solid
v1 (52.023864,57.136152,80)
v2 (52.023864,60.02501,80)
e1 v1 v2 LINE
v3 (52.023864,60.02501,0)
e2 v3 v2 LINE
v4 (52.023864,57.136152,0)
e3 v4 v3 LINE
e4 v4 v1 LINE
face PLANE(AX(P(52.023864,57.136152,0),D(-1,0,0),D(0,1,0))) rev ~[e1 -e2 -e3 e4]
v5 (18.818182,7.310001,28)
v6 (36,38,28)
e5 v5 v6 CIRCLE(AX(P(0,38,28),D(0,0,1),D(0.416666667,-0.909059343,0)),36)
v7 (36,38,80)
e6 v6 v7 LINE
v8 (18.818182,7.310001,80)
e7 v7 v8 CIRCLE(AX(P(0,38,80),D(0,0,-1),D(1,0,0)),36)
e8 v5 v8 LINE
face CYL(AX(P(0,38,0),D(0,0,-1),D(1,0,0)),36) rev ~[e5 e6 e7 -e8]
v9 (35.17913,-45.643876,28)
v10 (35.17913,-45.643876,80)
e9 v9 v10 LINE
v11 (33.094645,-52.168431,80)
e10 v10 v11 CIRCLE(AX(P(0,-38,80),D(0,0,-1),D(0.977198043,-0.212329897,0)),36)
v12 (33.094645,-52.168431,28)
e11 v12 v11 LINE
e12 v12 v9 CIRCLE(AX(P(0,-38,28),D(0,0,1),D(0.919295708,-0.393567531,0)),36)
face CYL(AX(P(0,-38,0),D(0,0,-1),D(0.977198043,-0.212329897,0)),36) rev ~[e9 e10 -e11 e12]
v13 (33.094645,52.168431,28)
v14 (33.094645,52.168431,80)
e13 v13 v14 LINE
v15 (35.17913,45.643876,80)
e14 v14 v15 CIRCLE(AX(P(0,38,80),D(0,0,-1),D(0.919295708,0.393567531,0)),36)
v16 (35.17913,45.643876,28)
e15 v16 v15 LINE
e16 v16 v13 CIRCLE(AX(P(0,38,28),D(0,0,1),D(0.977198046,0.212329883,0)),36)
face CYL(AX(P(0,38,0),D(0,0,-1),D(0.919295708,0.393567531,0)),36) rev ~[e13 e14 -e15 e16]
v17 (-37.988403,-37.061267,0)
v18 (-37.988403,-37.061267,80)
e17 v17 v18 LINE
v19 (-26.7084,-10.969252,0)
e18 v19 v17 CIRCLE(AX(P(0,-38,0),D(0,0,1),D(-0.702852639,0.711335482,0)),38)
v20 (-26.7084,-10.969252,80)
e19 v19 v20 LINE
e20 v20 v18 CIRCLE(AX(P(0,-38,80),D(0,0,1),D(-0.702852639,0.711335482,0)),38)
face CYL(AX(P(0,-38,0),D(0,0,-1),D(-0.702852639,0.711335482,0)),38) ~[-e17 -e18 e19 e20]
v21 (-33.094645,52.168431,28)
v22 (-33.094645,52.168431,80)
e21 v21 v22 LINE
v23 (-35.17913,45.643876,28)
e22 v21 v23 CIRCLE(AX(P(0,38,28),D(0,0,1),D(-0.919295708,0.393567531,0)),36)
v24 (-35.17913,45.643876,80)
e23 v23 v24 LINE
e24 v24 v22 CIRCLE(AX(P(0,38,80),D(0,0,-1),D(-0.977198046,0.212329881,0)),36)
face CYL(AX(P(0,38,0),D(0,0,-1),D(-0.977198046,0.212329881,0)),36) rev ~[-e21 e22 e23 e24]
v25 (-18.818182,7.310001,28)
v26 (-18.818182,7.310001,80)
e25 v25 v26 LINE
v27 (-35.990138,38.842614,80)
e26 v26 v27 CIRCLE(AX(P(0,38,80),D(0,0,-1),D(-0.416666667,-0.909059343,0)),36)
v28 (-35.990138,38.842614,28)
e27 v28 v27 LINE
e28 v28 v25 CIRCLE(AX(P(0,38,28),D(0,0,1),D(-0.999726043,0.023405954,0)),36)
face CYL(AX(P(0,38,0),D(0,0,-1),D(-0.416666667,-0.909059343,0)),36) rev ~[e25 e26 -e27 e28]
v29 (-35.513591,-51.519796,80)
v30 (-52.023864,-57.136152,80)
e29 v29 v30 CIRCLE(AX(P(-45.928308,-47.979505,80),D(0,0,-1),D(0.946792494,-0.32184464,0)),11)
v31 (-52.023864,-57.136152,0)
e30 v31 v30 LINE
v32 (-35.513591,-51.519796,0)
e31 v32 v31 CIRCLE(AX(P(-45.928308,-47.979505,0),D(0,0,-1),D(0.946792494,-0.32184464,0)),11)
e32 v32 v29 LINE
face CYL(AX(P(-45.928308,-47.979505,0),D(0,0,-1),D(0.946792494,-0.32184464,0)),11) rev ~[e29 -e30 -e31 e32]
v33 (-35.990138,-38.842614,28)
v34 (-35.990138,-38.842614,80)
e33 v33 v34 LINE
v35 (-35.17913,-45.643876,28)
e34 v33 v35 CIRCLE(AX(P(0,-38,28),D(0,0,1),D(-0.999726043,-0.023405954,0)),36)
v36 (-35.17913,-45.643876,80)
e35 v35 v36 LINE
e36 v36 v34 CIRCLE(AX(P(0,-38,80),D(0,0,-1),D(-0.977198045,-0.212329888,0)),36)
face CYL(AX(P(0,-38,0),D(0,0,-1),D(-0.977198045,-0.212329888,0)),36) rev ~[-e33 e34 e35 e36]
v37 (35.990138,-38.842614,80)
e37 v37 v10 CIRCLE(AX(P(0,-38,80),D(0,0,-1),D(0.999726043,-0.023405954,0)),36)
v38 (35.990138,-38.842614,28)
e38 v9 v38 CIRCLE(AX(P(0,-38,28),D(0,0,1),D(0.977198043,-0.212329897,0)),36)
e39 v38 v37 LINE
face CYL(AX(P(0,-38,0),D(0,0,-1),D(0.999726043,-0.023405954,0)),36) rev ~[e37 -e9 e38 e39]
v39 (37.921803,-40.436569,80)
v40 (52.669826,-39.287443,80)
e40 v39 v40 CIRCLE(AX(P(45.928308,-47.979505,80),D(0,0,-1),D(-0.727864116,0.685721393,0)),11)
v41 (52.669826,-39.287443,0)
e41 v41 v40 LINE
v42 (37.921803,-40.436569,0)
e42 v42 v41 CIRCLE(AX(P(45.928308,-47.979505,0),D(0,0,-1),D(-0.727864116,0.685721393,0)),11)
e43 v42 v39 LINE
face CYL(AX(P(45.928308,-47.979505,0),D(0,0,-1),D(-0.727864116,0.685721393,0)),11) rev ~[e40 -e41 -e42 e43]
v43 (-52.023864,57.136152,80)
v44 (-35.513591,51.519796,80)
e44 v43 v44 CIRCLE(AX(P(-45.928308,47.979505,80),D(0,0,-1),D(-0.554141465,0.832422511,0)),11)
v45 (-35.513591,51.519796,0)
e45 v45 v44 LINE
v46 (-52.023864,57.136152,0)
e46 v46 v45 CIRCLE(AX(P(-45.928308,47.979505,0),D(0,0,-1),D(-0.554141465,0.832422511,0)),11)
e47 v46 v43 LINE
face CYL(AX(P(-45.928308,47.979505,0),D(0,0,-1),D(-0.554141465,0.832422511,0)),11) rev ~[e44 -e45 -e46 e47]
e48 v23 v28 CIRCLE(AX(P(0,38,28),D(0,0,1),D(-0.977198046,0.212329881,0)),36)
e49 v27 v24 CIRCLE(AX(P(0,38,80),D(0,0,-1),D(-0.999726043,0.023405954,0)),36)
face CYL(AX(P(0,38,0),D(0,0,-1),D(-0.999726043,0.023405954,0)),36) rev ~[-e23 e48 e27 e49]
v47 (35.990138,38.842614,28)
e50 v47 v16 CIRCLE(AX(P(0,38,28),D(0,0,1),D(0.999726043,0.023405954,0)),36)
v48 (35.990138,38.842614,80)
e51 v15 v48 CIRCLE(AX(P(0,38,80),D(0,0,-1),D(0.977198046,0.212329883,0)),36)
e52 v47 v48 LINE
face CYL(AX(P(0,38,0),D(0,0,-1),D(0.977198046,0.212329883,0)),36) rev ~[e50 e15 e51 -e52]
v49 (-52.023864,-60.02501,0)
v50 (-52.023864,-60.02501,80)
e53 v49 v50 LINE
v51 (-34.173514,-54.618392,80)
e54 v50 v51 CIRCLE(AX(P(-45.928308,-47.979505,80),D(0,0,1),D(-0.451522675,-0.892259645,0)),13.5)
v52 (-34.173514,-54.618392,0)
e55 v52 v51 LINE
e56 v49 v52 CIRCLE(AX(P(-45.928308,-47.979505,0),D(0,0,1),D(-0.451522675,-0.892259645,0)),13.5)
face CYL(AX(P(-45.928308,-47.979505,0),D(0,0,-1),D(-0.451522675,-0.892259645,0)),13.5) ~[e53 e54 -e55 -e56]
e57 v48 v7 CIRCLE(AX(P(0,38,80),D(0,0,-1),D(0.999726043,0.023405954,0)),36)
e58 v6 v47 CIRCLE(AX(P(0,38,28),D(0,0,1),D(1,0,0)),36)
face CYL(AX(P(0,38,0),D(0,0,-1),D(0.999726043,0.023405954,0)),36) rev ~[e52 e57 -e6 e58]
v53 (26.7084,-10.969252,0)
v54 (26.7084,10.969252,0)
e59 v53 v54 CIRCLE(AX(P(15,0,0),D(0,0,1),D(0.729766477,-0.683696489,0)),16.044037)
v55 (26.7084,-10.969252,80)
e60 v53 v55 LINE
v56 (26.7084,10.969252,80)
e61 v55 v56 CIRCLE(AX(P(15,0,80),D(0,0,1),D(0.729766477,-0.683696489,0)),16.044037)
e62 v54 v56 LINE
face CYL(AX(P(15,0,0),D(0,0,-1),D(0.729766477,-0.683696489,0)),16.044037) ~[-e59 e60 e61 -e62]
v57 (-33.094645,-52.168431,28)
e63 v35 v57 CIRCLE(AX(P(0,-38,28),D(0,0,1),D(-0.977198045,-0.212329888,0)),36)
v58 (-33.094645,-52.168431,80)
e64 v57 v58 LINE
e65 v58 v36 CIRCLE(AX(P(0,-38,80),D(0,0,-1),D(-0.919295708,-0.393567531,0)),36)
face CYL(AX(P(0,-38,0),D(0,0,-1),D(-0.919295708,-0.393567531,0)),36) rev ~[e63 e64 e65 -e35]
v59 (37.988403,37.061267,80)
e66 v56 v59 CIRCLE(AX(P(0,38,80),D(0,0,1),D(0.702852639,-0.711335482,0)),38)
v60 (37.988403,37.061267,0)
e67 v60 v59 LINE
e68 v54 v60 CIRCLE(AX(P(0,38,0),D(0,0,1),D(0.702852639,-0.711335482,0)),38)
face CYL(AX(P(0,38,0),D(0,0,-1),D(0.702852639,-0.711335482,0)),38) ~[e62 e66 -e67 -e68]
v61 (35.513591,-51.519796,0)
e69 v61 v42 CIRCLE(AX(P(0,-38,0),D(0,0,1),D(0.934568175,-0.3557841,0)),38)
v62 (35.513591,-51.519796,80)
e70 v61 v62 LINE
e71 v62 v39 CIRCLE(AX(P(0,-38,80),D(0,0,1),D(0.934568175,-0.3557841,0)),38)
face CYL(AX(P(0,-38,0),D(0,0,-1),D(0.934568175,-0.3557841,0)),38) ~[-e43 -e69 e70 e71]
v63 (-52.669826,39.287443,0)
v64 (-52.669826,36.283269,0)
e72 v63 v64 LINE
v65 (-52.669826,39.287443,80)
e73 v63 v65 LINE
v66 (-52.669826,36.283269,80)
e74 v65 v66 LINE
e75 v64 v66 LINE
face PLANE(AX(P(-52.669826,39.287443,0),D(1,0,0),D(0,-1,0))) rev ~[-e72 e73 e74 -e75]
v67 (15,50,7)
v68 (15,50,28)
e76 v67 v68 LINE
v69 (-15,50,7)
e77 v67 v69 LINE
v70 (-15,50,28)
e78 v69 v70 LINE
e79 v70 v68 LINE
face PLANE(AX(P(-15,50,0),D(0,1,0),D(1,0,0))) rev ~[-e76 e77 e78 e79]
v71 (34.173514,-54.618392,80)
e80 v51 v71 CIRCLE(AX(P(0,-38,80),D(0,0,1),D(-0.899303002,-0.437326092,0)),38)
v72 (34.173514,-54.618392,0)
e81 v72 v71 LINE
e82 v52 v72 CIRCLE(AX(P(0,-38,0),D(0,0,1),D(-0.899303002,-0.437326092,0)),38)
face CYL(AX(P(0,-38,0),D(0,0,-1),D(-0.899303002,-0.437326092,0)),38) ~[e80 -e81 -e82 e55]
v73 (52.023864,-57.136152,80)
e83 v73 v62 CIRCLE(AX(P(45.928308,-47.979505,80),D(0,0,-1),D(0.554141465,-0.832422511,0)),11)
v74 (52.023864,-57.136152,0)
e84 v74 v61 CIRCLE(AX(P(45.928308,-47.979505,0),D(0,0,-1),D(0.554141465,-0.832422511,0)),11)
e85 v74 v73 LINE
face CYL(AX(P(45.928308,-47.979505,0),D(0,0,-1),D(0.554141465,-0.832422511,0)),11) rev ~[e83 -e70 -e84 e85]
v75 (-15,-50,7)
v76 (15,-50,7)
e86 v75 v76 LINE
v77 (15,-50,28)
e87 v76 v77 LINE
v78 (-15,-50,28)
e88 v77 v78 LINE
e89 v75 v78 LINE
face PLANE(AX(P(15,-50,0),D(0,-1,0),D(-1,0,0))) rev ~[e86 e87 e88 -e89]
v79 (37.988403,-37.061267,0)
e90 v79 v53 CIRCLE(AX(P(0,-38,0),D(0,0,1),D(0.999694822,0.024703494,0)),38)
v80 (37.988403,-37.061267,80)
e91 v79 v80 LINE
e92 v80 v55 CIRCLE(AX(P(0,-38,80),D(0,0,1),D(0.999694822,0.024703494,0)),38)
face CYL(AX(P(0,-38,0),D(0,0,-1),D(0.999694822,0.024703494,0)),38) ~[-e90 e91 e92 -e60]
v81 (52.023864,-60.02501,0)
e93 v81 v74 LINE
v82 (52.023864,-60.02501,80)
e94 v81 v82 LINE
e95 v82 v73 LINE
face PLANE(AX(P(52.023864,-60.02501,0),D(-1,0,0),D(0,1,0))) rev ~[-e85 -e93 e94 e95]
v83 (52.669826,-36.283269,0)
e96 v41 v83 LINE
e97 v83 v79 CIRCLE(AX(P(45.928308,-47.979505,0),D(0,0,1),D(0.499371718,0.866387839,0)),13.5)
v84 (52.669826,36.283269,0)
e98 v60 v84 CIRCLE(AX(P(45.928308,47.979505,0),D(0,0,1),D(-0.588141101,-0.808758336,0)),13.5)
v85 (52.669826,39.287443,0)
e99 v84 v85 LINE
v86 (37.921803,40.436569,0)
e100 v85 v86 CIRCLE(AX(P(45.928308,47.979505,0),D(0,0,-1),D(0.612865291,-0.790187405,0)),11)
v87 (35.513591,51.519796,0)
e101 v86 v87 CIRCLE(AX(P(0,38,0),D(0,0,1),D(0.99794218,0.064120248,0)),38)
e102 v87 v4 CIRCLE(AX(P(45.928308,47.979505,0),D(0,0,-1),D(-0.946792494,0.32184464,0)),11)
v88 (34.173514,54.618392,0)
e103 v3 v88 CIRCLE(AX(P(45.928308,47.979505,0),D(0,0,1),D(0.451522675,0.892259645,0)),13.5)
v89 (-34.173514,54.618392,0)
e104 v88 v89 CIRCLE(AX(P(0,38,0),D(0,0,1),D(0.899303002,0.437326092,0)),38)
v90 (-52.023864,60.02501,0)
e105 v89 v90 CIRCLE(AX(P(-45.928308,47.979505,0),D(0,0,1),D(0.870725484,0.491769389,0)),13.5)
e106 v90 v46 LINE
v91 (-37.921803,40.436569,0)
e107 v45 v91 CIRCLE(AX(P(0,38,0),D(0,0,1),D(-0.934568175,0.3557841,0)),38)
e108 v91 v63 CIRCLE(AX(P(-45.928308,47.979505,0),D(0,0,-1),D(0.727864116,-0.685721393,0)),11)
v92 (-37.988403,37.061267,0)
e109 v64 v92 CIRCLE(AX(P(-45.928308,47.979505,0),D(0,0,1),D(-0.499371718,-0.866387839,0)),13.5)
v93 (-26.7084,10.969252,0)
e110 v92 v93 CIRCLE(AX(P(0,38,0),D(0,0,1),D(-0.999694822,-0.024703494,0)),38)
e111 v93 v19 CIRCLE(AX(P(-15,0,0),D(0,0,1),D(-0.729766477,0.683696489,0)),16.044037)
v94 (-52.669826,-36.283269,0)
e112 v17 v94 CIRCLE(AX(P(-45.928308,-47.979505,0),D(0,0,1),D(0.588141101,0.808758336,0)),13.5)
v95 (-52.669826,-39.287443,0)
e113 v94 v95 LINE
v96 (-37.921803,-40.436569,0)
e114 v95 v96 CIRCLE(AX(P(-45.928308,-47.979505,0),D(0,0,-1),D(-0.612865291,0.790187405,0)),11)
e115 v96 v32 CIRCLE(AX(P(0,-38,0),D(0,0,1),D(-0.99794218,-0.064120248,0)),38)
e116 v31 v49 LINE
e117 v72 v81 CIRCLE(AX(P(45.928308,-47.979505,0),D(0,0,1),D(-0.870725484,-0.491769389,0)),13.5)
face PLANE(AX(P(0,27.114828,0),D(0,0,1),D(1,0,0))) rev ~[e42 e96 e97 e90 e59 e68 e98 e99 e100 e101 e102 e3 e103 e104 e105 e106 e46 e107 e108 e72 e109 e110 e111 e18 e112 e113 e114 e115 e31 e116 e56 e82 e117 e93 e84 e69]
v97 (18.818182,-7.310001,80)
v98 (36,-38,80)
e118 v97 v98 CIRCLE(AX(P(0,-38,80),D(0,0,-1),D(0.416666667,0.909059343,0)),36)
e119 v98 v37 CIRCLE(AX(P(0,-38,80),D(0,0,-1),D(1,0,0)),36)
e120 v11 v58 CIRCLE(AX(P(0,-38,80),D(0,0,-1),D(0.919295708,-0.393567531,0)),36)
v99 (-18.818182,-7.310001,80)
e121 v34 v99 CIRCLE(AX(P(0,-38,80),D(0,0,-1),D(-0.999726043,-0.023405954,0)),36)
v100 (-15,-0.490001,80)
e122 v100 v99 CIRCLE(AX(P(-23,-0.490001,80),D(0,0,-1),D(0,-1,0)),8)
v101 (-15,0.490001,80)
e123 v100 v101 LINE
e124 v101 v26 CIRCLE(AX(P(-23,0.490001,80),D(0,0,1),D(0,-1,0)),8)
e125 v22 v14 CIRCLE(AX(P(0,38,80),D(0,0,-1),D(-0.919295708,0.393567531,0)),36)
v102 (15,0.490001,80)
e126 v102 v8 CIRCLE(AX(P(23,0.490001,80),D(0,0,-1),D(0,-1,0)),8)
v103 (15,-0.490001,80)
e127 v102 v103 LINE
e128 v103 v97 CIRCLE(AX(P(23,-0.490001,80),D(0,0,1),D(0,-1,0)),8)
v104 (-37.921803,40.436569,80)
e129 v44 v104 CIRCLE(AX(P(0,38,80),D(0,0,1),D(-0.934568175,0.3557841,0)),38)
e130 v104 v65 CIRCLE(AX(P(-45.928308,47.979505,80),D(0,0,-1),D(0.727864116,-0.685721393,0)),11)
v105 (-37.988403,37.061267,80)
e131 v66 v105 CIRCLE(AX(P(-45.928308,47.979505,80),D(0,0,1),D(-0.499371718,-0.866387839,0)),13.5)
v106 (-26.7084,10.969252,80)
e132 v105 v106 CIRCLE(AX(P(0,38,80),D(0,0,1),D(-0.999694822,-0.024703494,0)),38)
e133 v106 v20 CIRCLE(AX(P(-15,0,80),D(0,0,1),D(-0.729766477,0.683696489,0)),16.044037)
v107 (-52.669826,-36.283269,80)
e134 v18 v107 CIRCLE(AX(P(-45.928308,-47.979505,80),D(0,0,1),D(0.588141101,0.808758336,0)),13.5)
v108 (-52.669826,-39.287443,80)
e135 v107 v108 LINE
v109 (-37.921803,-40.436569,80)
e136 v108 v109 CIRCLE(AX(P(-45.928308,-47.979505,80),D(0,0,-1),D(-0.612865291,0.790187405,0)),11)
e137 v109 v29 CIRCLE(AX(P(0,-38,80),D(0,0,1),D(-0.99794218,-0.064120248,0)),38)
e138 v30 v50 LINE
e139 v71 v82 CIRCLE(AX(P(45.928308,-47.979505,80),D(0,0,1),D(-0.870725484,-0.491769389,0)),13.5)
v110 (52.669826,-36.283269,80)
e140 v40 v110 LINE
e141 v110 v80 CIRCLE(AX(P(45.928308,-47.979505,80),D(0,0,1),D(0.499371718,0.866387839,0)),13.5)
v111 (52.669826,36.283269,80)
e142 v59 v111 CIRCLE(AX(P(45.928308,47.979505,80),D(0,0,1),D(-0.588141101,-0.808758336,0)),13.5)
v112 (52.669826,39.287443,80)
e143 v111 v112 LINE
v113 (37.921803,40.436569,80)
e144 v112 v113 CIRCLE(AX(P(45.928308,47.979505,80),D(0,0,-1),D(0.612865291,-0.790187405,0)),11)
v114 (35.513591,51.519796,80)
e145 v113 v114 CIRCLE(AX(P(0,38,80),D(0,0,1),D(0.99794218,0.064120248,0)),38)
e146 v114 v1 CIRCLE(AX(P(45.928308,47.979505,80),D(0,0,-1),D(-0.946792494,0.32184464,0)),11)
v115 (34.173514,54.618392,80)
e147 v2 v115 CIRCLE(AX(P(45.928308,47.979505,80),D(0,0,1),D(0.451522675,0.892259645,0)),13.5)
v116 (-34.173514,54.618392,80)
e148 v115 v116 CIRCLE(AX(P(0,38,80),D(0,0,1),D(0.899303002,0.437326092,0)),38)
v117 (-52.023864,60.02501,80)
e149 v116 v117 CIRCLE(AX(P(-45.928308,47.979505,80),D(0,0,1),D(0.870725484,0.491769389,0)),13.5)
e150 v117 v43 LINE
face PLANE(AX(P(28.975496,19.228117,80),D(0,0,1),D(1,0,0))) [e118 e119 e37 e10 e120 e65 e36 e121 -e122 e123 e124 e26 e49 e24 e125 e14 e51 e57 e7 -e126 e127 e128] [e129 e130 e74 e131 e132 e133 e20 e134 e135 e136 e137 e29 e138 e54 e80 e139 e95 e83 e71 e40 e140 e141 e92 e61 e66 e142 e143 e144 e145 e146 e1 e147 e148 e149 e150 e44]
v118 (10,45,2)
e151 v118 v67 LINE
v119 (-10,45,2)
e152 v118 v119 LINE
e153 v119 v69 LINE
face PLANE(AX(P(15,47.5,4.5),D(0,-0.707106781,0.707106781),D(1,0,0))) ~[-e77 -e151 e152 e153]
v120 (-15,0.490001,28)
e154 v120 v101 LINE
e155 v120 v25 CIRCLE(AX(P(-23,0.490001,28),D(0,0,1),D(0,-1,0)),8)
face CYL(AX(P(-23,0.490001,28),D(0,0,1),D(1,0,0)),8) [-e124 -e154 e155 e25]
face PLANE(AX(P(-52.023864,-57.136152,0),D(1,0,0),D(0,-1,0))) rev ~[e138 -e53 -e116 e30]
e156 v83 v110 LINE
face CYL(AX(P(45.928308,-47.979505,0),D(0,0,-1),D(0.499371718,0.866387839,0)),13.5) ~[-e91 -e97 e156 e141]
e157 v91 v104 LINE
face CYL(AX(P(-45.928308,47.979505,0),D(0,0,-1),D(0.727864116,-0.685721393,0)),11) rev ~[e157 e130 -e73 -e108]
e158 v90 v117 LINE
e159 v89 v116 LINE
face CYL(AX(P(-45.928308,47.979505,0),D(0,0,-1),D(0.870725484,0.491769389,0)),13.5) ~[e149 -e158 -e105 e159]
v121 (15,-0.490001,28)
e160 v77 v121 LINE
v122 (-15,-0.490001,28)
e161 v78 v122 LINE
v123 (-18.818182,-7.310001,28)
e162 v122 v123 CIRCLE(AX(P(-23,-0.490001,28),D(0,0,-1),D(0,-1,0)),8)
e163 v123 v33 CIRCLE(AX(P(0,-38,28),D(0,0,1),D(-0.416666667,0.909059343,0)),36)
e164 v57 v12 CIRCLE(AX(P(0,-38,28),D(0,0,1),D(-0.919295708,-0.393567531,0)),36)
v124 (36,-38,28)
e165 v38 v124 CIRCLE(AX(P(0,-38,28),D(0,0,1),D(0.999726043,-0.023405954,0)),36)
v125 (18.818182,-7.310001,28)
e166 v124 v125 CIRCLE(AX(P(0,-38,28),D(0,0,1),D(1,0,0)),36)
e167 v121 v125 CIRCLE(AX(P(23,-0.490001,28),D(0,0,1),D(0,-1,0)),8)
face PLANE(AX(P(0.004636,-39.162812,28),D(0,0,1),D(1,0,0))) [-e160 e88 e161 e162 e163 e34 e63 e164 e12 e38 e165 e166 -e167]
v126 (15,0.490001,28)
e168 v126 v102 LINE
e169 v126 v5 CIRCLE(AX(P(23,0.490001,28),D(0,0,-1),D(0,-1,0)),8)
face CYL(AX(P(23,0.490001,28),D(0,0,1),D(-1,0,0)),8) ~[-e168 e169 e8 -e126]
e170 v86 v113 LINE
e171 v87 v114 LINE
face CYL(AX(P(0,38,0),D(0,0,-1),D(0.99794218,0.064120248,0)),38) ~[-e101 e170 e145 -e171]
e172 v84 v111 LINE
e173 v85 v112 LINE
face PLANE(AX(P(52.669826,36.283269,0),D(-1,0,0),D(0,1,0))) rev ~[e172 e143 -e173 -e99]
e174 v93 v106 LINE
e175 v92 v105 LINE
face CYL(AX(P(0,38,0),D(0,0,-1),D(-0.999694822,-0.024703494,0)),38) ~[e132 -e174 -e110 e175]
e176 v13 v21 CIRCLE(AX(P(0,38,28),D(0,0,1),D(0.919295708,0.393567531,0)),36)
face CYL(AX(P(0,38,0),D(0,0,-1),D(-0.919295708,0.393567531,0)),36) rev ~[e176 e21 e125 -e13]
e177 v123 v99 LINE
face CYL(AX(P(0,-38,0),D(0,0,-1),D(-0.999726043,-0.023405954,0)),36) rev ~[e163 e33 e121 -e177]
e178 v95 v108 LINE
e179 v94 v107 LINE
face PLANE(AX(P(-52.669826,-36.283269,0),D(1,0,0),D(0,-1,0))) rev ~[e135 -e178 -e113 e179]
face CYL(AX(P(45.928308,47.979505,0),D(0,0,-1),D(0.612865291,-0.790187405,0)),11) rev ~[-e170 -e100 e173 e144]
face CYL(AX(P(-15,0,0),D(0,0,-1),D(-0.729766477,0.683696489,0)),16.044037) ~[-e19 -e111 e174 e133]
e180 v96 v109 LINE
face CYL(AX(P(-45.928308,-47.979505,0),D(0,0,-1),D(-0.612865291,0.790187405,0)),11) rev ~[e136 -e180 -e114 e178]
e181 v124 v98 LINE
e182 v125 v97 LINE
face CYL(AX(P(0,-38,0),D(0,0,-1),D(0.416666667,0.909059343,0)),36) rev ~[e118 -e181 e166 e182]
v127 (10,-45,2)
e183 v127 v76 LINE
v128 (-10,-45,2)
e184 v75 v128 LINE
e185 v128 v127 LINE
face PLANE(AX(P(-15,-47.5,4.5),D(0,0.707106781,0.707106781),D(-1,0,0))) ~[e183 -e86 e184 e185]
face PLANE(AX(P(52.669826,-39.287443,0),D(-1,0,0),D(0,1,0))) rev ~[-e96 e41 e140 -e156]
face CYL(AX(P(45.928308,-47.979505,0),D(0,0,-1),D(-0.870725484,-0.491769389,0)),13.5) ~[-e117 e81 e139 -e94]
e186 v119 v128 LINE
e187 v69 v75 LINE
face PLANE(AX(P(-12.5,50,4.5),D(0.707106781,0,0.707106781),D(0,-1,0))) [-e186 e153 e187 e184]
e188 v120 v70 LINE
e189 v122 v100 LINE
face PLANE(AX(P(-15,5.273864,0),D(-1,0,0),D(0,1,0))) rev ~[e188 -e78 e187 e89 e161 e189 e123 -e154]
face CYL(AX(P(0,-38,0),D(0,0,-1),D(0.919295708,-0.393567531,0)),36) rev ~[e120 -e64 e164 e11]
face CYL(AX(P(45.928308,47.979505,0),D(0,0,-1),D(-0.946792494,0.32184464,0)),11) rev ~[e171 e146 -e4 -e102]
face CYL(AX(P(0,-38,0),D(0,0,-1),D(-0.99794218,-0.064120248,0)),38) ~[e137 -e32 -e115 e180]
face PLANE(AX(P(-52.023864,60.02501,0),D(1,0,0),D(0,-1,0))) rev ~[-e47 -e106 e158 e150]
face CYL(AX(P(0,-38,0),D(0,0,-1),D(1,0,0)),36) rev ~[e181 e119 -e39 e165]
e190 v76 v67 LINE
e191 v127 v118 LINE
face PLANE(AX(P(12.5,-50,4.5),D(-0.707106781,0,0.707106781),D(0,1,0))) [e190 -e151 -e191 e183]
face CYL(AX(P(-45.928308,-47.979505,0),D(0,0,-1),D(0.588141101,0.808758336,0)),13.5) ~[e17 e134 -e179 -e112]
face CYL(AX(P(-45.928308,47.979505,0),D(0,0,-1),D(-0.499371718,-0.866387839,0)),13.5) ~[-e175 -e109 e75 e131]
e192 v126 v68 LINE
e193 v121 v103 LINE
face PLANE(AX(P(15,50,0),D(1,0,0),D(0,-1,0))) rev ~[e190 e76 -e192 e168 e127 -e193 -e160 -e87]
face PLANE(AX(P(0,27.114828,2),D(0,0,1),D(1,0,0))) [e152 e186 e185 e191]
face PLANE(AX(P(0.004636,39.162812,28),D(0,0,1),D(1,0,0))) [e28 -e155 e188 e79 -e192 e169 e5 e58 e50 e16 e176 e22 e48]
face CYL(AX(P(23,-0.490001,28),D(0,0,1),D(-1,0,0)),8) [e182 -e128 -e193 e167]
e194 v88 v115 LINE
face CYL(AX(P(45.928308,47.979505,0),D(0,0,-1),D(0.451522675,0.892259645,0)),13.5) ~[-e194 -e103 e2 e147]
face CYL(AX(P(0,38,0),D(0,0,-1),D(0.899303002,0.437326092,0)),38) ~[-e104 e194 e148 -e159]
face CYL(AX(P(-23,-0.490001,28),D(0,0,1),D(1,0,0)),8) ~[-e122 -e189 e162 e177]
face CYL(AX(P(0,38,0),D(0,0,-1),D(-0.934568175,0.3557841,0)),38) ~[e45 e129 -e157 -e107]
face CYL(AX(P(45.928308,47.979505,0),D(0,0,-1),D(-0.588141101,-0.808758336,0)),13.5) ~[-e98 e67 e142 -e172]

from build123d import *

# Parameters (mm, degrees)
F1_DEPTH = 80
F2_DEPTH = 28
F3_DEPTH = 2
F4_SIZE  = 5
F5_R     = 8


with BuildPart() as f1:
    # F0 (on Top) → F1 (new body)
    with BuildSketch(Plane.XY):
        with BuildLine():
            ThreePointArc((35.9901375525, 38.8426143551), (35.9975343037, 38.4213360355), (36, 38))
            ThreePointArc((36, 38), (30.2985148151, 18.5577779048), (15, 5.2738636561))
            Line((15, 5.2738636561), (15, 3.0858194998))
            ThreePointArc((15, 3.0858194998), (21.2234490436, 6.479130553), (26.7084002829, 10.9692516876))
            ThreePointArc((26.7084002829, 10.9692516876), (34.8800432225, 22.9207896494), (37.9884032406, 37.061267222))
            ThreePointArc((37.9884032406, 37.061267222), (36.9450072331, 37.9022876024), (35.9901375525, 38.8426143551))
        make_face()
        with BuildLine():
            ThreePointArc((35.1791296525, 45.6438757771), (35.7467542283, 42.2625769371), (35.9901375525, 38.8426143551))
            ThreePointArc((35.9901375525, 38.8426143551), (36.9450072331, 37.9022876024), (37.9884032406, 37.061267222))
            ThreePointArc((37.9884032406, 37.061267222), (37.9971006995, 37.5305977968), (38, 38))
            ThreePointArc((38, 38), (37.9804456747, 39.2189119535), (37.9218028237, 40.4365694333))
            ThreePointArc((37.9218028237, 40.4365694333), (36.1957376365, 42.853388078), (35.1791296525, 45.6438757771))
        make_face()
        with BuildLine():
            ThreePointArc((35.5135906601, 51.5197957984), (34.9460846772, 48.604619716), (35.1791296525, 45.6438757771))
            ThreePointArc((35.1791296525, 45.6438757771), (36.1957376365, 42.853388078), (37.9218028237, 40.4365694333))
            ThreePointArc((37.9218028237, 40.4365694333), (37.133525697, 46.0685357598), (35.5135906601, 51.5197957984))
        make_face()
        with BuildLine():
            ThreePointArc((33.0946454877, 52.1684311073), (34.2924124047, 48.9558409747), (35.1791296525, 45.6438757771))
            ThreePointArc((35.1791296525, 45.6438757771), (34.9460846772, 48.604619716), (35.5135906601, 51.5197957984))
            ThreePointArc((35.5135906601, 51.5197957984), (34.8779796603, 53.083982724), (34.1735140679, 54.6183915062))
            ThreePointArc((34.1735140679, 54.6183915062), (33.5732028181, 53.4202191846), (33.0946454877, 52.1684311073))
        make_face()
        with BuildLine():
            ThreePointArc((38, 38), (37.9971006995, 37.5305977968), (37.9884032406, 37.061267222))
            ThreePointArc((37.9884032406, 37.061267222), (45.2139181623, 34.4984199692), (52.669826296, 36.2832689338))
            Line((52.669826296, 36.2832689338), (52.669826296, 39.2874432971))
            ThreePointArc((52.669826296, 39.2874432971), (45.0738077793, 37.0127445593), (37.9218028237, 40.4365694333))
            ThreePointArc((37.9218028237, 40.4365694333), (37.9804456747, 39.2189119535), (38, 38))
        make_face()
        with BuildLine():
            Line((-15, 3.0858194998), (-15, 5.2738636561))
            ThreePointArc((-15, 5.2738636561), (-30.5239870885, 18.9137166473), (-35.9901375525, 38.8426143551))
            ThreePointArc((-35.9901375525, 38.8426143551), (-36.9450072331, 37.9022876024), (-37.9884032406, 37.061267222))
            ThreePointArc((-37.9884032406, 37.061267222), (-34.8800432225, 22.9207896494), (-26.7084002829, 10.9692516876))
            ThreePointArc((-26.7084002829, 10.9692516876), (-21.2234490436, 6.479130553), (-15, 3.0858194998))
        make_face()
        with BuildLine():
            ThreePointArc((26.7084002829, 10.9692516876), (21.2234490436, 6.479130553), (15, 3.0858194998))
            Line((15, 3.0858194998), (15, -3.0858194998))
            ThreePointArc((15, -3.0858194998), (21.2234490436, -6.479130553), (26.7084002829, -10.9692516876))
            ThreePointArc((26.7084002829, -10.9692516876), (31.0440368913, 0), (26.7084002829, 10.9692516876))
        make_face()
        with BuildLine():
            ThreePointArc((-33.0946454877, 52.1684311073), (0, 74), (33.0946454877, 52.1684311073))
            ThreePointArc((33.0946454877, 52.1684311073), (33.5732028181, 53.4202191846), (34.1735140679, 54.6183915062))
            ThreePointArc((34.1735140679, 54.6183915062), (0, 76), (-34.1735140679, 54.6183915062))
            ThreePointArc((-34.1735140679, 54.6183915062), (-33.5732028181, 53.4202191846), (-33.0946454877, 52.1684311073))
        make_face()
        with BuildLine():
            ThreePointArc((34.1735140679, 54.6183915062), (34.8779796603, 53.083982724), (35.5135906601, 51.5197957984))
            ThreePointArc((35.5135906601, 51.5197957984), (42.3857590226, 58.3934543446), (52.0238642089, 57.1361523796))
            Line((52.0238642089, 57.1361523796), (52.0238642089, 60.0250099634))
            ThreePointArc((52.0238642089, 60.0250099634), (42.0149177213, 60.8998521098), (34.1735140679, 54.6183915062))
        make_face()
        with BuildLine():
            ThreePointArc((-37.9884032406, 37.061267222), (-36.9450072331, 37.9022876024), (-35.9901375525, 38.8426143551))
            ThreePointArc((-35.9901375525, 38.8426143551), (-35.7467542312, 42.2625769128), (-35.1791296629, 45.6438757292))
            ThreePointArc((-35.1791296629, 45.6438757292), (-36.1957376479, 42.8533880563), (-37.9218028237, 40.4365694333))
            ThreePointArc((-37.9218028237, 40.4365694333), (-37.9926047072, 38.749658299), (-37.9884032406, 37.061267222))
        make_face()
        with BuildLine():
            Line((-15, -3.0858194998), (-15, 3.0858194998))
            ThreePointArc((-15, 3.0858194998), (-21.2234490436, 6.479130553), (-26.7084002829, 10.9692516876))
            ThreePointArc((-26.7084002829, 10.9692516876), (-31.0440368913, 0), (-26.7084002829, -10.9692516876))
            ThreePointArc((-26.7084002829, -10.9692516876), (-21.2234490436, -6.479130553), (-15, -3.0858194998))
        make_face()
        with BuildLine():
            ThreePointArc((26.7084002829, -10.9692516876), (21.2234490436, -6.479130553), (15, -3.0858194998))
            Line((15, -3.0858194998), (15, -5.2738636561))
            ThreePointArc((15, -5.2738636561), (30.2985148151, -18.5577779048), (36, -38))
            ThreePointArc((36, -38), (35.9975343037, -38.4213360355), (35.9901375525, -38.8426143551))
            ThreePointArc((35.9901375525, -38.8426143551), (36.9450072331, -37.9022876024), (37.9884032406, -37.061267222))
            ThreePointArc((37.9884032406, -37.061267222), (34.8800432225, -22.9207896494), (26.7084002829, -10.9692516876))
        make_face()
        with BuildLine():
            ThreePointArc((-35.1791296629, 45.6438757292), (-34.2924124122, 48.9558409514), (-33.0946454877, 52.1684311073))
            ThreePointArc((-33.0946454877, 52.1684311073), (-33.5732028181, 53.4202191846), (-34.1735140679, 54.6183915062))
            ThreePointArc((-34.1735140679, 54.6183915062), (-34.8779796603, 53.083982724), (-35.5135906601, 51.5197957984))
            ThreePointArc((-35.5135906601, 51.5197957984), (-34.9460846758, 48.6046196915), (-35.1791296629, 45.6438757292))
        make_face()
        with BuildLine():
            ThreePointArc((-37.9218028237, 40.4365694333), (-36.1957376479, 42.8533880563), (-35.1791296629, 45.6438757292))
            ThreePointArc((-35.1791296629, 45.6438757292), (-34.9460846758, 48.6046196915), (-35.5135906601, 51.5197957984))
            ThreePointArc((-35.5135906601, 51.5197957984), (-37.133525697, 46.0685357598), (-37.9218028237, 40.4365694333))
        make_face()
        with BuildLine():
            ThreePointArc((-52.669826296, 36.2832689338), (-45.2139181623, 34.4984199692), (-37.9884032406, 37.061267222))
            ThreePointArc((-37.9884032406, 37.061267222), (-37.9926047072, 38.749658299), (-37.9218028237, 40.4365694333))
            ThreePointArc((-37.9218028237, 40.4365694333), (-45.0738077793, 37.0127445593), (-52.669826296, 39.2874432971))
            Line((-52.669826296, 39.2874432971), (-52.669826296, 36.2832689338))
        make_face()
        with BuildLine():
            Line((-15, -5.2738636561), (-15, -3.0858194998))
            ThreePointArc((-15, -3.0858194998), (-21.2234490436, -6.479130553), (-26.7084002829, -10.9692516876))
            ThreePointArc((-26.7084002829, -10.9692516876), (-34.8800432225, -22.9207896494), (-37.9884032406, -37.061267222))
            ThreePointArc((-37.9884032406, -37.061267222), (-36.9450072331, -37.9022876024), (-35.9901375525, -38.8426143551))
            ThreePointArc((-35.9901375525, -38.8426143551), (-30.5239870885, -18.9137166473), (-15, -5.2738636561))
        make_face()
        with BuildLine():
            ThreePointArc((-35.5135906601, 51.5197957984), (-34.8779796603, 53.083982724), (-34.1735140679, 54.6183915062))
            ThreePointArc((-34.1735140679, 54.6183915062), (-42.0149177213, 60.8998521098), (-52.0238642089, 60.0250099634))
            Line((-52.0238642089, 60.0250099634), (-52.0238642089, 57.1361523796))
            ThreePointArc((-52.0238642089, 57.1361523796), (-42.3857590226, 58.3934543446), (-35.5135906601, 51.5197957984))
        make_face()
        with BuildLine():
            ThreePointArc((52.669826296, -36.2832689338), (45.2139181623, -34.4984199692), (37.9884032406, -37.061267222))
            ThreePointArc((37.9884032406, -37.061267222), (37.9971006995, -37.5305977968), (38, -38))
            ThreePointArc((38, -38), (37.9804456747, -39.2189119535), (37.9218028237, -40.4365694333))
            ThreePointArc((37.9218028237, -40.4365694333), (45.0738077793, -37.0127445593), (52.669826296, -39.2874432971))
            Line((52.669826296, -39.2874432971), (52.669826296, -36.2832689338))
        make_face()
        with BuildLine():
            ThreePointArc((38, -38), (37.9971006995, -37.5305977968), (37.9884032406, -37.061267222))
            ThreePointArc((37.9884032406, -37.061267222), (36.9450072331, -37.9022876024), (35.9901375525, -38.8426143551))
            ThreePointArc((35.9901375525, -38.8426143551), (35.746754198, -42.2625771912), (35.1791295438, -45.6438762771))
            ThreePointArc((35.1791295438, -45.6438762771), (36.1957375172, -42.8533883044), (37.9218028237, -40.4365694333))
            ThreePointArc((37.9218028237, -40.4365694333), (37.9804456747, -39.2189119535), (38, -38))
        make_face()
        with BuildLine():
            ThreePointArc((-35.9901375525, -38.8426143551), (-36.9450072331, -37.9022876024), (-37.9884032406, -37.061267222))
            ThreePointArc((-37.9884032406, -37.061267222), (-37.9926047072, -38.749658299), (-37.9218028237, -40.4365694333))
            ThreePointArc((-37.9218028237, -40.4365694333), (-36.1957375881, -42.8533881697), (-35.1791296084, -45.6438759798))
            ThreePointArc((-35.1791296084, -45.6438759798), (-35.746754216, -42.2625770401), (-35.9901375525, -38.8426143551))
        make_face()
        with BuildLine():
            ThreePointArc((-37.9218028237, -40.4365694333), (-37.9926047072, -38.749658299), (-37.9884032406, -37.061267222))
            ThreePointArc((-37.9884032406, -37.061267222), (-45.2139181623, -34.4984199692), (-52.669826296, -36.2832689338))
            Line((-52.669826296, -36.2832689338), (-52.669826296, -39.2874432971))
            ThreePointArc((-52.669826296, -39.2874432971), (-45.0738077793, -37.0127445593), (-37.9218028237, -40.4365694333))
        make_face()
        with BuildLine():
            ThreePointArc((35.5135906601, -51.5197957984), (37.133525697, -46.0685357598), (37.9218028237, -40.4365694333))
            ThreePointArc((37.9218028237, -40.4365694333), (36.1957375172, -42.8533883044), (35.1791295438, -45.6438762771))
            ThreePointArc((35.1791295438, -45.6438762771), (34.9460846917, -48.6046199714), (35.5135906601, -51.5197957984))
        make_face()
        with BuildLine():
            ThreePointArc((35.5135906601, -51.5197957984), (34.9460846917, -48.6046199714), (35.1791295438, -45.6438762771))
            ThreePointArc((35.1791295438, -45.6438762771), (34.2924123269, -48.9558412184), (33.0946454877, -52.1684311073))
            ThreePointArc((33.0946454877, -52.1684311073), (33.5732028181, -53.4202191846), (34.1735140679, -54.6183915062))
            ThreePointArc((34.1735140679, -54.6183915062), (34.8779796603, -53.083982724), (35.5135906601, -51.5197957984))
        make_face()
        with BuildLine():
            ThreePointArc((-35.1791296084, -45.6438759798), (-36.1957375881, -42.8533881697), (-37.9218028237, -40.4365694333))
            ThreePointArc((-37.9218028237, -40.4365694333), (-37.133525697, -46.0685357598), (-35.5135906601, -51.5197957984))
            ThreePointArc((-35.5135906601, -51.5197957984), (-34.9460846831, -48.6046198195), (-35.1791296084, -45.6438759798))
        make_face()
        with BuildLine():
            ThreePointArc((-33.0946454877, -52.1684311073), (-34.2924123732, -48.9558410735), (-35.1791296084, -45.6438759798))
            ThreePointArc((-35.1791296084, -45.6438759798), (-34.9460846831, -48.6046198195), (-35.5135906601, -51.5197957984))
            ThreePointArc((-35.5135906601, -51.5197957984), (-34.8779796603, -53.083982724), (-34.1735140679, -54.6183915062))
            ThreePointArc((-34.1735140679, -54.6183915062), (-33.5732028181, -53.4202191846), (-33.0946454877, -52.1684311073))
        make_face()
        with BuildLine():
            ThreePointArc((52.0238642089, -57.1361523796), (42.3857590226, -58.3934543446), (35.5135906601, -51.5197957984))
            ThreePointArc((35.5135906601, -51.5197957984), (34.8779796603, -53.083982724), (34.1735140679, -54.6183915062))
            ThreePointArc((34.1735140679, -54.6183915062), (42.0149177213, -60.8998521098), (52.0238642089, -60.0250099634))
            Line((52.0238642089, -60.0250099634), (52.0238642089, -57.1361523796))
        make_face()
        with BuildLine():
            ThreePointArc((34.1735140679, -54.6183915062), (33.5732028181, -53.4202191846), (33.0946454877, -52.1684311073))
            ThreePointArc((33.0946454877, -52.1684311073), (0, -74), (-33.0946454877, -52.1684311073))
            ThreePointArc((-33.0946454877, -52.1684311073), (-33.5732028181, -53.4202191846), (-34.1735140679, -54.6183915062))
            ThreePointArc((-34.1735140679, -54.6183915062), (0, -76), (34.1735140679, -54.6183915062))
        make_face()
        with BuildLine():
            ThreePointArc((-34.1735140679, -54.6183915062), (-34.8779796603, -53.083982724), (-35.5135906601, -51.5197957984))
            ThreePointArc((-35.5135906601, -51.5197957984), (-42.3857590226, -58.3934543446), (-52.0238642089, -57.1361523796))
            Line((-52.0238642089, -57.1361523796), (-52.0238642089, -60.0250099634))
            ThreePointArc((-52.0238642089, -60.0250099634), (-42.0149177213, -60.8998521098), (-34.1735140679, -54.6183915062))
        make_face()
    extrude(amount=F1_DEPTH)

    # F0 (on Top) → F2 (join)
    with BuildSketch(Plane.XY):
        with BuildLine():
            ThreePointArc((15, 5.2738636561), (30.2985148151, 18.5577779048), (36, 38))
            ThreePointArc((36, 38), (35.9975343037, 38.4213360355), (35.9901375525, 38.8426143551))
            ThreePointArc((35.9901375525, 38.8426143551), (35.7467542283, 42.2625769371), (35.1791296525, 45.6438757771))
            ThreePointArc((35.1791296525, 45.6438757771), (34.2924124047, 48.9558409747), (33.0946454877, 52.1684311073))
            ThreePointArc((33.0946454877, 52.1684311073), (0, 74), (-33.0946454877, 52.1684311073))
            ThreePointArc((-33.0946454877, 52.1684311073), (-34.2924124122, 48.9558409514), (-35.1791296629, 45.6438757292))
            ThreePointArc((-35.1791296629, 45.6438757292), (-35.7467542312, 42.2625769128), (-35.9901375525, 38.8426143551))
            ThreePointArc((-35.9901375525, 38.8426143551), (-30.5239870885, 18.9137166473), (-15, 5.2738636561))
            Line((-15, 5.2738636561), (-15, 50))
            Line((-15, 50), (15, 50))
            Line((15, 50), (15, 5.2738636561))
        make_face()
        with BuildLine():
            ThreePointArc((36, -38), (30.2985148151, -18.5577779048), (15, -5.2738636561))
            Line((15, -5.2738636561), (15, -50))
            Line((15, -50), (-15, -50))
            Line((-15, -50), (-15, -5.2738636561))
            ThreePointArc((-15, -5.2738636561), (-30.5239870885, -18.9137166473), (-35.9901375525, -38.8426143551))
            ThreePointArc((-35.9901375525, -38.8426143551), (-35.746754216, -42.2625770401), (-35.1791296084, -45.6438759798))
            ThreePointArc((-35.1791296084, -45.6438759798), (-34.2924123732, -48.9558410735), (-33.0946454877, -52.1684311073))
            ThreePointArc((-33.0946454877, -52.1684311073), (0, -74), (33.0946454877, -52.1684311073))
            ThreePointArc((33.0946454877, -52.1684311073), (34.2924123269, -48.9558412184), (35.1791295438, -45.6438762771))
            ThreePointArc((35.1791295438, -45.6438762771), (35.746754198, -42.2625771912), (35.9901375525, -38.8426143551))
            ThreePointArc((35.9901375525, -38.8426143551), (35.9975343037, -38.4213360355), (36, -38))
        make_face()
    extrude(amount=F2_DEPTH)

    # F0 (on Top) → F3 (join)
    with BuildSketch(Plane.XY):
        with BuildLine():
            ThreePointArc((-15, 5.2738636561), (0, 2), (15, 5.2738636561))
            Line((15, 5.2738636561), (15, 50))
            Line((15, 50), (-15, 50))
            Line((-15, 50), (-15, 5.2738636561))
        make_face()
        with BuildLine():
            Line((15, -50), (15, -5.2738636561))
            ThreePointArc((15, -5.2738636561), (0, -2), (-15, -5.2738636561))
            Line((-15, -5.2738636561), (-15, -50))
            Line((-15, -50), (15, -50))
        make_face()
        with BuildLine():
            ThreePointArc((0, 0), (-7.6570601732, 0.7794488286), (-15, 3.0858194998))
            Line((-15, 3.0858194998), (-15, -3.0858194998))
            ThreePointArc((-15, -3.0858194998), (-7.6570601732, -0.7794488286), (0, 0))
        make_face()
        with BuildLine():
            Line((15, 3.0858194998), (15, 5.2738636561))
            ThreePointArc((15, 5.2738636561), (0, 2), (-15, 5.2738636561))
            Line((-15, 5.2738636561), (-15, 3.0858194998))
            ThreePointArc((-15, 3.0858194998), (-7.6570601732, 0.7794488286), (0, 0))
            ThreePointArc((0, 0), (7.6570601732, 0.7794488286), (15, 3.0858194998))
        make_face()
        with BuildLine():
            ThreePointArc((15, -3.0858194998), (7.6570601732, -0.7794488286), (0, 0))
            ThreePointArc((0, 0), (-7.6570601732, -0.7794488286), (-15, -3.0858194998))
            Line((-15, -3.0858194998), (-15, -5.2738636561))
            ThreePointArc((-15, -5.2738636561), (0, -2), (15, -5.2738636561))
            Line((15, -5.2738636561), (15, -3.0858194998))
        make_face()
        with BuildLine():
            Line((15, -3.0858194998), (15, 3.0858194998))
            ThreePointArc((15, 3.0858194998), (7.6570601732, 0.7794488286), (0, 0))
            ThreePointArc((0, 0), (7.6570601732, -0.7794488286), (15, -3.0858194998))
        make_face()
    extrude(amount=F3_DEPTH)

    # F4
    f4_edges = [f1.edges().sort_by_distance(p)[0] for p in [
        (0, 50, 2),
        (-15, 0, 2),
        (0, -50, 2),
        (15, 0, 2),
    ]]
    chamfer(f4_edges, length=F4_SIZE)

    # F5
    f5_edges = [f1.edges().sort_by_distance(p)[0] for p in [
        (-15, -5.273864, 54),
        (-15, 5.273864, 54),
        (15, -5.273864, 54),
        (15, 5.273864, 54),
    ]]
    fillet(f5_edges, radius=F5_R)


solid = f1.part
